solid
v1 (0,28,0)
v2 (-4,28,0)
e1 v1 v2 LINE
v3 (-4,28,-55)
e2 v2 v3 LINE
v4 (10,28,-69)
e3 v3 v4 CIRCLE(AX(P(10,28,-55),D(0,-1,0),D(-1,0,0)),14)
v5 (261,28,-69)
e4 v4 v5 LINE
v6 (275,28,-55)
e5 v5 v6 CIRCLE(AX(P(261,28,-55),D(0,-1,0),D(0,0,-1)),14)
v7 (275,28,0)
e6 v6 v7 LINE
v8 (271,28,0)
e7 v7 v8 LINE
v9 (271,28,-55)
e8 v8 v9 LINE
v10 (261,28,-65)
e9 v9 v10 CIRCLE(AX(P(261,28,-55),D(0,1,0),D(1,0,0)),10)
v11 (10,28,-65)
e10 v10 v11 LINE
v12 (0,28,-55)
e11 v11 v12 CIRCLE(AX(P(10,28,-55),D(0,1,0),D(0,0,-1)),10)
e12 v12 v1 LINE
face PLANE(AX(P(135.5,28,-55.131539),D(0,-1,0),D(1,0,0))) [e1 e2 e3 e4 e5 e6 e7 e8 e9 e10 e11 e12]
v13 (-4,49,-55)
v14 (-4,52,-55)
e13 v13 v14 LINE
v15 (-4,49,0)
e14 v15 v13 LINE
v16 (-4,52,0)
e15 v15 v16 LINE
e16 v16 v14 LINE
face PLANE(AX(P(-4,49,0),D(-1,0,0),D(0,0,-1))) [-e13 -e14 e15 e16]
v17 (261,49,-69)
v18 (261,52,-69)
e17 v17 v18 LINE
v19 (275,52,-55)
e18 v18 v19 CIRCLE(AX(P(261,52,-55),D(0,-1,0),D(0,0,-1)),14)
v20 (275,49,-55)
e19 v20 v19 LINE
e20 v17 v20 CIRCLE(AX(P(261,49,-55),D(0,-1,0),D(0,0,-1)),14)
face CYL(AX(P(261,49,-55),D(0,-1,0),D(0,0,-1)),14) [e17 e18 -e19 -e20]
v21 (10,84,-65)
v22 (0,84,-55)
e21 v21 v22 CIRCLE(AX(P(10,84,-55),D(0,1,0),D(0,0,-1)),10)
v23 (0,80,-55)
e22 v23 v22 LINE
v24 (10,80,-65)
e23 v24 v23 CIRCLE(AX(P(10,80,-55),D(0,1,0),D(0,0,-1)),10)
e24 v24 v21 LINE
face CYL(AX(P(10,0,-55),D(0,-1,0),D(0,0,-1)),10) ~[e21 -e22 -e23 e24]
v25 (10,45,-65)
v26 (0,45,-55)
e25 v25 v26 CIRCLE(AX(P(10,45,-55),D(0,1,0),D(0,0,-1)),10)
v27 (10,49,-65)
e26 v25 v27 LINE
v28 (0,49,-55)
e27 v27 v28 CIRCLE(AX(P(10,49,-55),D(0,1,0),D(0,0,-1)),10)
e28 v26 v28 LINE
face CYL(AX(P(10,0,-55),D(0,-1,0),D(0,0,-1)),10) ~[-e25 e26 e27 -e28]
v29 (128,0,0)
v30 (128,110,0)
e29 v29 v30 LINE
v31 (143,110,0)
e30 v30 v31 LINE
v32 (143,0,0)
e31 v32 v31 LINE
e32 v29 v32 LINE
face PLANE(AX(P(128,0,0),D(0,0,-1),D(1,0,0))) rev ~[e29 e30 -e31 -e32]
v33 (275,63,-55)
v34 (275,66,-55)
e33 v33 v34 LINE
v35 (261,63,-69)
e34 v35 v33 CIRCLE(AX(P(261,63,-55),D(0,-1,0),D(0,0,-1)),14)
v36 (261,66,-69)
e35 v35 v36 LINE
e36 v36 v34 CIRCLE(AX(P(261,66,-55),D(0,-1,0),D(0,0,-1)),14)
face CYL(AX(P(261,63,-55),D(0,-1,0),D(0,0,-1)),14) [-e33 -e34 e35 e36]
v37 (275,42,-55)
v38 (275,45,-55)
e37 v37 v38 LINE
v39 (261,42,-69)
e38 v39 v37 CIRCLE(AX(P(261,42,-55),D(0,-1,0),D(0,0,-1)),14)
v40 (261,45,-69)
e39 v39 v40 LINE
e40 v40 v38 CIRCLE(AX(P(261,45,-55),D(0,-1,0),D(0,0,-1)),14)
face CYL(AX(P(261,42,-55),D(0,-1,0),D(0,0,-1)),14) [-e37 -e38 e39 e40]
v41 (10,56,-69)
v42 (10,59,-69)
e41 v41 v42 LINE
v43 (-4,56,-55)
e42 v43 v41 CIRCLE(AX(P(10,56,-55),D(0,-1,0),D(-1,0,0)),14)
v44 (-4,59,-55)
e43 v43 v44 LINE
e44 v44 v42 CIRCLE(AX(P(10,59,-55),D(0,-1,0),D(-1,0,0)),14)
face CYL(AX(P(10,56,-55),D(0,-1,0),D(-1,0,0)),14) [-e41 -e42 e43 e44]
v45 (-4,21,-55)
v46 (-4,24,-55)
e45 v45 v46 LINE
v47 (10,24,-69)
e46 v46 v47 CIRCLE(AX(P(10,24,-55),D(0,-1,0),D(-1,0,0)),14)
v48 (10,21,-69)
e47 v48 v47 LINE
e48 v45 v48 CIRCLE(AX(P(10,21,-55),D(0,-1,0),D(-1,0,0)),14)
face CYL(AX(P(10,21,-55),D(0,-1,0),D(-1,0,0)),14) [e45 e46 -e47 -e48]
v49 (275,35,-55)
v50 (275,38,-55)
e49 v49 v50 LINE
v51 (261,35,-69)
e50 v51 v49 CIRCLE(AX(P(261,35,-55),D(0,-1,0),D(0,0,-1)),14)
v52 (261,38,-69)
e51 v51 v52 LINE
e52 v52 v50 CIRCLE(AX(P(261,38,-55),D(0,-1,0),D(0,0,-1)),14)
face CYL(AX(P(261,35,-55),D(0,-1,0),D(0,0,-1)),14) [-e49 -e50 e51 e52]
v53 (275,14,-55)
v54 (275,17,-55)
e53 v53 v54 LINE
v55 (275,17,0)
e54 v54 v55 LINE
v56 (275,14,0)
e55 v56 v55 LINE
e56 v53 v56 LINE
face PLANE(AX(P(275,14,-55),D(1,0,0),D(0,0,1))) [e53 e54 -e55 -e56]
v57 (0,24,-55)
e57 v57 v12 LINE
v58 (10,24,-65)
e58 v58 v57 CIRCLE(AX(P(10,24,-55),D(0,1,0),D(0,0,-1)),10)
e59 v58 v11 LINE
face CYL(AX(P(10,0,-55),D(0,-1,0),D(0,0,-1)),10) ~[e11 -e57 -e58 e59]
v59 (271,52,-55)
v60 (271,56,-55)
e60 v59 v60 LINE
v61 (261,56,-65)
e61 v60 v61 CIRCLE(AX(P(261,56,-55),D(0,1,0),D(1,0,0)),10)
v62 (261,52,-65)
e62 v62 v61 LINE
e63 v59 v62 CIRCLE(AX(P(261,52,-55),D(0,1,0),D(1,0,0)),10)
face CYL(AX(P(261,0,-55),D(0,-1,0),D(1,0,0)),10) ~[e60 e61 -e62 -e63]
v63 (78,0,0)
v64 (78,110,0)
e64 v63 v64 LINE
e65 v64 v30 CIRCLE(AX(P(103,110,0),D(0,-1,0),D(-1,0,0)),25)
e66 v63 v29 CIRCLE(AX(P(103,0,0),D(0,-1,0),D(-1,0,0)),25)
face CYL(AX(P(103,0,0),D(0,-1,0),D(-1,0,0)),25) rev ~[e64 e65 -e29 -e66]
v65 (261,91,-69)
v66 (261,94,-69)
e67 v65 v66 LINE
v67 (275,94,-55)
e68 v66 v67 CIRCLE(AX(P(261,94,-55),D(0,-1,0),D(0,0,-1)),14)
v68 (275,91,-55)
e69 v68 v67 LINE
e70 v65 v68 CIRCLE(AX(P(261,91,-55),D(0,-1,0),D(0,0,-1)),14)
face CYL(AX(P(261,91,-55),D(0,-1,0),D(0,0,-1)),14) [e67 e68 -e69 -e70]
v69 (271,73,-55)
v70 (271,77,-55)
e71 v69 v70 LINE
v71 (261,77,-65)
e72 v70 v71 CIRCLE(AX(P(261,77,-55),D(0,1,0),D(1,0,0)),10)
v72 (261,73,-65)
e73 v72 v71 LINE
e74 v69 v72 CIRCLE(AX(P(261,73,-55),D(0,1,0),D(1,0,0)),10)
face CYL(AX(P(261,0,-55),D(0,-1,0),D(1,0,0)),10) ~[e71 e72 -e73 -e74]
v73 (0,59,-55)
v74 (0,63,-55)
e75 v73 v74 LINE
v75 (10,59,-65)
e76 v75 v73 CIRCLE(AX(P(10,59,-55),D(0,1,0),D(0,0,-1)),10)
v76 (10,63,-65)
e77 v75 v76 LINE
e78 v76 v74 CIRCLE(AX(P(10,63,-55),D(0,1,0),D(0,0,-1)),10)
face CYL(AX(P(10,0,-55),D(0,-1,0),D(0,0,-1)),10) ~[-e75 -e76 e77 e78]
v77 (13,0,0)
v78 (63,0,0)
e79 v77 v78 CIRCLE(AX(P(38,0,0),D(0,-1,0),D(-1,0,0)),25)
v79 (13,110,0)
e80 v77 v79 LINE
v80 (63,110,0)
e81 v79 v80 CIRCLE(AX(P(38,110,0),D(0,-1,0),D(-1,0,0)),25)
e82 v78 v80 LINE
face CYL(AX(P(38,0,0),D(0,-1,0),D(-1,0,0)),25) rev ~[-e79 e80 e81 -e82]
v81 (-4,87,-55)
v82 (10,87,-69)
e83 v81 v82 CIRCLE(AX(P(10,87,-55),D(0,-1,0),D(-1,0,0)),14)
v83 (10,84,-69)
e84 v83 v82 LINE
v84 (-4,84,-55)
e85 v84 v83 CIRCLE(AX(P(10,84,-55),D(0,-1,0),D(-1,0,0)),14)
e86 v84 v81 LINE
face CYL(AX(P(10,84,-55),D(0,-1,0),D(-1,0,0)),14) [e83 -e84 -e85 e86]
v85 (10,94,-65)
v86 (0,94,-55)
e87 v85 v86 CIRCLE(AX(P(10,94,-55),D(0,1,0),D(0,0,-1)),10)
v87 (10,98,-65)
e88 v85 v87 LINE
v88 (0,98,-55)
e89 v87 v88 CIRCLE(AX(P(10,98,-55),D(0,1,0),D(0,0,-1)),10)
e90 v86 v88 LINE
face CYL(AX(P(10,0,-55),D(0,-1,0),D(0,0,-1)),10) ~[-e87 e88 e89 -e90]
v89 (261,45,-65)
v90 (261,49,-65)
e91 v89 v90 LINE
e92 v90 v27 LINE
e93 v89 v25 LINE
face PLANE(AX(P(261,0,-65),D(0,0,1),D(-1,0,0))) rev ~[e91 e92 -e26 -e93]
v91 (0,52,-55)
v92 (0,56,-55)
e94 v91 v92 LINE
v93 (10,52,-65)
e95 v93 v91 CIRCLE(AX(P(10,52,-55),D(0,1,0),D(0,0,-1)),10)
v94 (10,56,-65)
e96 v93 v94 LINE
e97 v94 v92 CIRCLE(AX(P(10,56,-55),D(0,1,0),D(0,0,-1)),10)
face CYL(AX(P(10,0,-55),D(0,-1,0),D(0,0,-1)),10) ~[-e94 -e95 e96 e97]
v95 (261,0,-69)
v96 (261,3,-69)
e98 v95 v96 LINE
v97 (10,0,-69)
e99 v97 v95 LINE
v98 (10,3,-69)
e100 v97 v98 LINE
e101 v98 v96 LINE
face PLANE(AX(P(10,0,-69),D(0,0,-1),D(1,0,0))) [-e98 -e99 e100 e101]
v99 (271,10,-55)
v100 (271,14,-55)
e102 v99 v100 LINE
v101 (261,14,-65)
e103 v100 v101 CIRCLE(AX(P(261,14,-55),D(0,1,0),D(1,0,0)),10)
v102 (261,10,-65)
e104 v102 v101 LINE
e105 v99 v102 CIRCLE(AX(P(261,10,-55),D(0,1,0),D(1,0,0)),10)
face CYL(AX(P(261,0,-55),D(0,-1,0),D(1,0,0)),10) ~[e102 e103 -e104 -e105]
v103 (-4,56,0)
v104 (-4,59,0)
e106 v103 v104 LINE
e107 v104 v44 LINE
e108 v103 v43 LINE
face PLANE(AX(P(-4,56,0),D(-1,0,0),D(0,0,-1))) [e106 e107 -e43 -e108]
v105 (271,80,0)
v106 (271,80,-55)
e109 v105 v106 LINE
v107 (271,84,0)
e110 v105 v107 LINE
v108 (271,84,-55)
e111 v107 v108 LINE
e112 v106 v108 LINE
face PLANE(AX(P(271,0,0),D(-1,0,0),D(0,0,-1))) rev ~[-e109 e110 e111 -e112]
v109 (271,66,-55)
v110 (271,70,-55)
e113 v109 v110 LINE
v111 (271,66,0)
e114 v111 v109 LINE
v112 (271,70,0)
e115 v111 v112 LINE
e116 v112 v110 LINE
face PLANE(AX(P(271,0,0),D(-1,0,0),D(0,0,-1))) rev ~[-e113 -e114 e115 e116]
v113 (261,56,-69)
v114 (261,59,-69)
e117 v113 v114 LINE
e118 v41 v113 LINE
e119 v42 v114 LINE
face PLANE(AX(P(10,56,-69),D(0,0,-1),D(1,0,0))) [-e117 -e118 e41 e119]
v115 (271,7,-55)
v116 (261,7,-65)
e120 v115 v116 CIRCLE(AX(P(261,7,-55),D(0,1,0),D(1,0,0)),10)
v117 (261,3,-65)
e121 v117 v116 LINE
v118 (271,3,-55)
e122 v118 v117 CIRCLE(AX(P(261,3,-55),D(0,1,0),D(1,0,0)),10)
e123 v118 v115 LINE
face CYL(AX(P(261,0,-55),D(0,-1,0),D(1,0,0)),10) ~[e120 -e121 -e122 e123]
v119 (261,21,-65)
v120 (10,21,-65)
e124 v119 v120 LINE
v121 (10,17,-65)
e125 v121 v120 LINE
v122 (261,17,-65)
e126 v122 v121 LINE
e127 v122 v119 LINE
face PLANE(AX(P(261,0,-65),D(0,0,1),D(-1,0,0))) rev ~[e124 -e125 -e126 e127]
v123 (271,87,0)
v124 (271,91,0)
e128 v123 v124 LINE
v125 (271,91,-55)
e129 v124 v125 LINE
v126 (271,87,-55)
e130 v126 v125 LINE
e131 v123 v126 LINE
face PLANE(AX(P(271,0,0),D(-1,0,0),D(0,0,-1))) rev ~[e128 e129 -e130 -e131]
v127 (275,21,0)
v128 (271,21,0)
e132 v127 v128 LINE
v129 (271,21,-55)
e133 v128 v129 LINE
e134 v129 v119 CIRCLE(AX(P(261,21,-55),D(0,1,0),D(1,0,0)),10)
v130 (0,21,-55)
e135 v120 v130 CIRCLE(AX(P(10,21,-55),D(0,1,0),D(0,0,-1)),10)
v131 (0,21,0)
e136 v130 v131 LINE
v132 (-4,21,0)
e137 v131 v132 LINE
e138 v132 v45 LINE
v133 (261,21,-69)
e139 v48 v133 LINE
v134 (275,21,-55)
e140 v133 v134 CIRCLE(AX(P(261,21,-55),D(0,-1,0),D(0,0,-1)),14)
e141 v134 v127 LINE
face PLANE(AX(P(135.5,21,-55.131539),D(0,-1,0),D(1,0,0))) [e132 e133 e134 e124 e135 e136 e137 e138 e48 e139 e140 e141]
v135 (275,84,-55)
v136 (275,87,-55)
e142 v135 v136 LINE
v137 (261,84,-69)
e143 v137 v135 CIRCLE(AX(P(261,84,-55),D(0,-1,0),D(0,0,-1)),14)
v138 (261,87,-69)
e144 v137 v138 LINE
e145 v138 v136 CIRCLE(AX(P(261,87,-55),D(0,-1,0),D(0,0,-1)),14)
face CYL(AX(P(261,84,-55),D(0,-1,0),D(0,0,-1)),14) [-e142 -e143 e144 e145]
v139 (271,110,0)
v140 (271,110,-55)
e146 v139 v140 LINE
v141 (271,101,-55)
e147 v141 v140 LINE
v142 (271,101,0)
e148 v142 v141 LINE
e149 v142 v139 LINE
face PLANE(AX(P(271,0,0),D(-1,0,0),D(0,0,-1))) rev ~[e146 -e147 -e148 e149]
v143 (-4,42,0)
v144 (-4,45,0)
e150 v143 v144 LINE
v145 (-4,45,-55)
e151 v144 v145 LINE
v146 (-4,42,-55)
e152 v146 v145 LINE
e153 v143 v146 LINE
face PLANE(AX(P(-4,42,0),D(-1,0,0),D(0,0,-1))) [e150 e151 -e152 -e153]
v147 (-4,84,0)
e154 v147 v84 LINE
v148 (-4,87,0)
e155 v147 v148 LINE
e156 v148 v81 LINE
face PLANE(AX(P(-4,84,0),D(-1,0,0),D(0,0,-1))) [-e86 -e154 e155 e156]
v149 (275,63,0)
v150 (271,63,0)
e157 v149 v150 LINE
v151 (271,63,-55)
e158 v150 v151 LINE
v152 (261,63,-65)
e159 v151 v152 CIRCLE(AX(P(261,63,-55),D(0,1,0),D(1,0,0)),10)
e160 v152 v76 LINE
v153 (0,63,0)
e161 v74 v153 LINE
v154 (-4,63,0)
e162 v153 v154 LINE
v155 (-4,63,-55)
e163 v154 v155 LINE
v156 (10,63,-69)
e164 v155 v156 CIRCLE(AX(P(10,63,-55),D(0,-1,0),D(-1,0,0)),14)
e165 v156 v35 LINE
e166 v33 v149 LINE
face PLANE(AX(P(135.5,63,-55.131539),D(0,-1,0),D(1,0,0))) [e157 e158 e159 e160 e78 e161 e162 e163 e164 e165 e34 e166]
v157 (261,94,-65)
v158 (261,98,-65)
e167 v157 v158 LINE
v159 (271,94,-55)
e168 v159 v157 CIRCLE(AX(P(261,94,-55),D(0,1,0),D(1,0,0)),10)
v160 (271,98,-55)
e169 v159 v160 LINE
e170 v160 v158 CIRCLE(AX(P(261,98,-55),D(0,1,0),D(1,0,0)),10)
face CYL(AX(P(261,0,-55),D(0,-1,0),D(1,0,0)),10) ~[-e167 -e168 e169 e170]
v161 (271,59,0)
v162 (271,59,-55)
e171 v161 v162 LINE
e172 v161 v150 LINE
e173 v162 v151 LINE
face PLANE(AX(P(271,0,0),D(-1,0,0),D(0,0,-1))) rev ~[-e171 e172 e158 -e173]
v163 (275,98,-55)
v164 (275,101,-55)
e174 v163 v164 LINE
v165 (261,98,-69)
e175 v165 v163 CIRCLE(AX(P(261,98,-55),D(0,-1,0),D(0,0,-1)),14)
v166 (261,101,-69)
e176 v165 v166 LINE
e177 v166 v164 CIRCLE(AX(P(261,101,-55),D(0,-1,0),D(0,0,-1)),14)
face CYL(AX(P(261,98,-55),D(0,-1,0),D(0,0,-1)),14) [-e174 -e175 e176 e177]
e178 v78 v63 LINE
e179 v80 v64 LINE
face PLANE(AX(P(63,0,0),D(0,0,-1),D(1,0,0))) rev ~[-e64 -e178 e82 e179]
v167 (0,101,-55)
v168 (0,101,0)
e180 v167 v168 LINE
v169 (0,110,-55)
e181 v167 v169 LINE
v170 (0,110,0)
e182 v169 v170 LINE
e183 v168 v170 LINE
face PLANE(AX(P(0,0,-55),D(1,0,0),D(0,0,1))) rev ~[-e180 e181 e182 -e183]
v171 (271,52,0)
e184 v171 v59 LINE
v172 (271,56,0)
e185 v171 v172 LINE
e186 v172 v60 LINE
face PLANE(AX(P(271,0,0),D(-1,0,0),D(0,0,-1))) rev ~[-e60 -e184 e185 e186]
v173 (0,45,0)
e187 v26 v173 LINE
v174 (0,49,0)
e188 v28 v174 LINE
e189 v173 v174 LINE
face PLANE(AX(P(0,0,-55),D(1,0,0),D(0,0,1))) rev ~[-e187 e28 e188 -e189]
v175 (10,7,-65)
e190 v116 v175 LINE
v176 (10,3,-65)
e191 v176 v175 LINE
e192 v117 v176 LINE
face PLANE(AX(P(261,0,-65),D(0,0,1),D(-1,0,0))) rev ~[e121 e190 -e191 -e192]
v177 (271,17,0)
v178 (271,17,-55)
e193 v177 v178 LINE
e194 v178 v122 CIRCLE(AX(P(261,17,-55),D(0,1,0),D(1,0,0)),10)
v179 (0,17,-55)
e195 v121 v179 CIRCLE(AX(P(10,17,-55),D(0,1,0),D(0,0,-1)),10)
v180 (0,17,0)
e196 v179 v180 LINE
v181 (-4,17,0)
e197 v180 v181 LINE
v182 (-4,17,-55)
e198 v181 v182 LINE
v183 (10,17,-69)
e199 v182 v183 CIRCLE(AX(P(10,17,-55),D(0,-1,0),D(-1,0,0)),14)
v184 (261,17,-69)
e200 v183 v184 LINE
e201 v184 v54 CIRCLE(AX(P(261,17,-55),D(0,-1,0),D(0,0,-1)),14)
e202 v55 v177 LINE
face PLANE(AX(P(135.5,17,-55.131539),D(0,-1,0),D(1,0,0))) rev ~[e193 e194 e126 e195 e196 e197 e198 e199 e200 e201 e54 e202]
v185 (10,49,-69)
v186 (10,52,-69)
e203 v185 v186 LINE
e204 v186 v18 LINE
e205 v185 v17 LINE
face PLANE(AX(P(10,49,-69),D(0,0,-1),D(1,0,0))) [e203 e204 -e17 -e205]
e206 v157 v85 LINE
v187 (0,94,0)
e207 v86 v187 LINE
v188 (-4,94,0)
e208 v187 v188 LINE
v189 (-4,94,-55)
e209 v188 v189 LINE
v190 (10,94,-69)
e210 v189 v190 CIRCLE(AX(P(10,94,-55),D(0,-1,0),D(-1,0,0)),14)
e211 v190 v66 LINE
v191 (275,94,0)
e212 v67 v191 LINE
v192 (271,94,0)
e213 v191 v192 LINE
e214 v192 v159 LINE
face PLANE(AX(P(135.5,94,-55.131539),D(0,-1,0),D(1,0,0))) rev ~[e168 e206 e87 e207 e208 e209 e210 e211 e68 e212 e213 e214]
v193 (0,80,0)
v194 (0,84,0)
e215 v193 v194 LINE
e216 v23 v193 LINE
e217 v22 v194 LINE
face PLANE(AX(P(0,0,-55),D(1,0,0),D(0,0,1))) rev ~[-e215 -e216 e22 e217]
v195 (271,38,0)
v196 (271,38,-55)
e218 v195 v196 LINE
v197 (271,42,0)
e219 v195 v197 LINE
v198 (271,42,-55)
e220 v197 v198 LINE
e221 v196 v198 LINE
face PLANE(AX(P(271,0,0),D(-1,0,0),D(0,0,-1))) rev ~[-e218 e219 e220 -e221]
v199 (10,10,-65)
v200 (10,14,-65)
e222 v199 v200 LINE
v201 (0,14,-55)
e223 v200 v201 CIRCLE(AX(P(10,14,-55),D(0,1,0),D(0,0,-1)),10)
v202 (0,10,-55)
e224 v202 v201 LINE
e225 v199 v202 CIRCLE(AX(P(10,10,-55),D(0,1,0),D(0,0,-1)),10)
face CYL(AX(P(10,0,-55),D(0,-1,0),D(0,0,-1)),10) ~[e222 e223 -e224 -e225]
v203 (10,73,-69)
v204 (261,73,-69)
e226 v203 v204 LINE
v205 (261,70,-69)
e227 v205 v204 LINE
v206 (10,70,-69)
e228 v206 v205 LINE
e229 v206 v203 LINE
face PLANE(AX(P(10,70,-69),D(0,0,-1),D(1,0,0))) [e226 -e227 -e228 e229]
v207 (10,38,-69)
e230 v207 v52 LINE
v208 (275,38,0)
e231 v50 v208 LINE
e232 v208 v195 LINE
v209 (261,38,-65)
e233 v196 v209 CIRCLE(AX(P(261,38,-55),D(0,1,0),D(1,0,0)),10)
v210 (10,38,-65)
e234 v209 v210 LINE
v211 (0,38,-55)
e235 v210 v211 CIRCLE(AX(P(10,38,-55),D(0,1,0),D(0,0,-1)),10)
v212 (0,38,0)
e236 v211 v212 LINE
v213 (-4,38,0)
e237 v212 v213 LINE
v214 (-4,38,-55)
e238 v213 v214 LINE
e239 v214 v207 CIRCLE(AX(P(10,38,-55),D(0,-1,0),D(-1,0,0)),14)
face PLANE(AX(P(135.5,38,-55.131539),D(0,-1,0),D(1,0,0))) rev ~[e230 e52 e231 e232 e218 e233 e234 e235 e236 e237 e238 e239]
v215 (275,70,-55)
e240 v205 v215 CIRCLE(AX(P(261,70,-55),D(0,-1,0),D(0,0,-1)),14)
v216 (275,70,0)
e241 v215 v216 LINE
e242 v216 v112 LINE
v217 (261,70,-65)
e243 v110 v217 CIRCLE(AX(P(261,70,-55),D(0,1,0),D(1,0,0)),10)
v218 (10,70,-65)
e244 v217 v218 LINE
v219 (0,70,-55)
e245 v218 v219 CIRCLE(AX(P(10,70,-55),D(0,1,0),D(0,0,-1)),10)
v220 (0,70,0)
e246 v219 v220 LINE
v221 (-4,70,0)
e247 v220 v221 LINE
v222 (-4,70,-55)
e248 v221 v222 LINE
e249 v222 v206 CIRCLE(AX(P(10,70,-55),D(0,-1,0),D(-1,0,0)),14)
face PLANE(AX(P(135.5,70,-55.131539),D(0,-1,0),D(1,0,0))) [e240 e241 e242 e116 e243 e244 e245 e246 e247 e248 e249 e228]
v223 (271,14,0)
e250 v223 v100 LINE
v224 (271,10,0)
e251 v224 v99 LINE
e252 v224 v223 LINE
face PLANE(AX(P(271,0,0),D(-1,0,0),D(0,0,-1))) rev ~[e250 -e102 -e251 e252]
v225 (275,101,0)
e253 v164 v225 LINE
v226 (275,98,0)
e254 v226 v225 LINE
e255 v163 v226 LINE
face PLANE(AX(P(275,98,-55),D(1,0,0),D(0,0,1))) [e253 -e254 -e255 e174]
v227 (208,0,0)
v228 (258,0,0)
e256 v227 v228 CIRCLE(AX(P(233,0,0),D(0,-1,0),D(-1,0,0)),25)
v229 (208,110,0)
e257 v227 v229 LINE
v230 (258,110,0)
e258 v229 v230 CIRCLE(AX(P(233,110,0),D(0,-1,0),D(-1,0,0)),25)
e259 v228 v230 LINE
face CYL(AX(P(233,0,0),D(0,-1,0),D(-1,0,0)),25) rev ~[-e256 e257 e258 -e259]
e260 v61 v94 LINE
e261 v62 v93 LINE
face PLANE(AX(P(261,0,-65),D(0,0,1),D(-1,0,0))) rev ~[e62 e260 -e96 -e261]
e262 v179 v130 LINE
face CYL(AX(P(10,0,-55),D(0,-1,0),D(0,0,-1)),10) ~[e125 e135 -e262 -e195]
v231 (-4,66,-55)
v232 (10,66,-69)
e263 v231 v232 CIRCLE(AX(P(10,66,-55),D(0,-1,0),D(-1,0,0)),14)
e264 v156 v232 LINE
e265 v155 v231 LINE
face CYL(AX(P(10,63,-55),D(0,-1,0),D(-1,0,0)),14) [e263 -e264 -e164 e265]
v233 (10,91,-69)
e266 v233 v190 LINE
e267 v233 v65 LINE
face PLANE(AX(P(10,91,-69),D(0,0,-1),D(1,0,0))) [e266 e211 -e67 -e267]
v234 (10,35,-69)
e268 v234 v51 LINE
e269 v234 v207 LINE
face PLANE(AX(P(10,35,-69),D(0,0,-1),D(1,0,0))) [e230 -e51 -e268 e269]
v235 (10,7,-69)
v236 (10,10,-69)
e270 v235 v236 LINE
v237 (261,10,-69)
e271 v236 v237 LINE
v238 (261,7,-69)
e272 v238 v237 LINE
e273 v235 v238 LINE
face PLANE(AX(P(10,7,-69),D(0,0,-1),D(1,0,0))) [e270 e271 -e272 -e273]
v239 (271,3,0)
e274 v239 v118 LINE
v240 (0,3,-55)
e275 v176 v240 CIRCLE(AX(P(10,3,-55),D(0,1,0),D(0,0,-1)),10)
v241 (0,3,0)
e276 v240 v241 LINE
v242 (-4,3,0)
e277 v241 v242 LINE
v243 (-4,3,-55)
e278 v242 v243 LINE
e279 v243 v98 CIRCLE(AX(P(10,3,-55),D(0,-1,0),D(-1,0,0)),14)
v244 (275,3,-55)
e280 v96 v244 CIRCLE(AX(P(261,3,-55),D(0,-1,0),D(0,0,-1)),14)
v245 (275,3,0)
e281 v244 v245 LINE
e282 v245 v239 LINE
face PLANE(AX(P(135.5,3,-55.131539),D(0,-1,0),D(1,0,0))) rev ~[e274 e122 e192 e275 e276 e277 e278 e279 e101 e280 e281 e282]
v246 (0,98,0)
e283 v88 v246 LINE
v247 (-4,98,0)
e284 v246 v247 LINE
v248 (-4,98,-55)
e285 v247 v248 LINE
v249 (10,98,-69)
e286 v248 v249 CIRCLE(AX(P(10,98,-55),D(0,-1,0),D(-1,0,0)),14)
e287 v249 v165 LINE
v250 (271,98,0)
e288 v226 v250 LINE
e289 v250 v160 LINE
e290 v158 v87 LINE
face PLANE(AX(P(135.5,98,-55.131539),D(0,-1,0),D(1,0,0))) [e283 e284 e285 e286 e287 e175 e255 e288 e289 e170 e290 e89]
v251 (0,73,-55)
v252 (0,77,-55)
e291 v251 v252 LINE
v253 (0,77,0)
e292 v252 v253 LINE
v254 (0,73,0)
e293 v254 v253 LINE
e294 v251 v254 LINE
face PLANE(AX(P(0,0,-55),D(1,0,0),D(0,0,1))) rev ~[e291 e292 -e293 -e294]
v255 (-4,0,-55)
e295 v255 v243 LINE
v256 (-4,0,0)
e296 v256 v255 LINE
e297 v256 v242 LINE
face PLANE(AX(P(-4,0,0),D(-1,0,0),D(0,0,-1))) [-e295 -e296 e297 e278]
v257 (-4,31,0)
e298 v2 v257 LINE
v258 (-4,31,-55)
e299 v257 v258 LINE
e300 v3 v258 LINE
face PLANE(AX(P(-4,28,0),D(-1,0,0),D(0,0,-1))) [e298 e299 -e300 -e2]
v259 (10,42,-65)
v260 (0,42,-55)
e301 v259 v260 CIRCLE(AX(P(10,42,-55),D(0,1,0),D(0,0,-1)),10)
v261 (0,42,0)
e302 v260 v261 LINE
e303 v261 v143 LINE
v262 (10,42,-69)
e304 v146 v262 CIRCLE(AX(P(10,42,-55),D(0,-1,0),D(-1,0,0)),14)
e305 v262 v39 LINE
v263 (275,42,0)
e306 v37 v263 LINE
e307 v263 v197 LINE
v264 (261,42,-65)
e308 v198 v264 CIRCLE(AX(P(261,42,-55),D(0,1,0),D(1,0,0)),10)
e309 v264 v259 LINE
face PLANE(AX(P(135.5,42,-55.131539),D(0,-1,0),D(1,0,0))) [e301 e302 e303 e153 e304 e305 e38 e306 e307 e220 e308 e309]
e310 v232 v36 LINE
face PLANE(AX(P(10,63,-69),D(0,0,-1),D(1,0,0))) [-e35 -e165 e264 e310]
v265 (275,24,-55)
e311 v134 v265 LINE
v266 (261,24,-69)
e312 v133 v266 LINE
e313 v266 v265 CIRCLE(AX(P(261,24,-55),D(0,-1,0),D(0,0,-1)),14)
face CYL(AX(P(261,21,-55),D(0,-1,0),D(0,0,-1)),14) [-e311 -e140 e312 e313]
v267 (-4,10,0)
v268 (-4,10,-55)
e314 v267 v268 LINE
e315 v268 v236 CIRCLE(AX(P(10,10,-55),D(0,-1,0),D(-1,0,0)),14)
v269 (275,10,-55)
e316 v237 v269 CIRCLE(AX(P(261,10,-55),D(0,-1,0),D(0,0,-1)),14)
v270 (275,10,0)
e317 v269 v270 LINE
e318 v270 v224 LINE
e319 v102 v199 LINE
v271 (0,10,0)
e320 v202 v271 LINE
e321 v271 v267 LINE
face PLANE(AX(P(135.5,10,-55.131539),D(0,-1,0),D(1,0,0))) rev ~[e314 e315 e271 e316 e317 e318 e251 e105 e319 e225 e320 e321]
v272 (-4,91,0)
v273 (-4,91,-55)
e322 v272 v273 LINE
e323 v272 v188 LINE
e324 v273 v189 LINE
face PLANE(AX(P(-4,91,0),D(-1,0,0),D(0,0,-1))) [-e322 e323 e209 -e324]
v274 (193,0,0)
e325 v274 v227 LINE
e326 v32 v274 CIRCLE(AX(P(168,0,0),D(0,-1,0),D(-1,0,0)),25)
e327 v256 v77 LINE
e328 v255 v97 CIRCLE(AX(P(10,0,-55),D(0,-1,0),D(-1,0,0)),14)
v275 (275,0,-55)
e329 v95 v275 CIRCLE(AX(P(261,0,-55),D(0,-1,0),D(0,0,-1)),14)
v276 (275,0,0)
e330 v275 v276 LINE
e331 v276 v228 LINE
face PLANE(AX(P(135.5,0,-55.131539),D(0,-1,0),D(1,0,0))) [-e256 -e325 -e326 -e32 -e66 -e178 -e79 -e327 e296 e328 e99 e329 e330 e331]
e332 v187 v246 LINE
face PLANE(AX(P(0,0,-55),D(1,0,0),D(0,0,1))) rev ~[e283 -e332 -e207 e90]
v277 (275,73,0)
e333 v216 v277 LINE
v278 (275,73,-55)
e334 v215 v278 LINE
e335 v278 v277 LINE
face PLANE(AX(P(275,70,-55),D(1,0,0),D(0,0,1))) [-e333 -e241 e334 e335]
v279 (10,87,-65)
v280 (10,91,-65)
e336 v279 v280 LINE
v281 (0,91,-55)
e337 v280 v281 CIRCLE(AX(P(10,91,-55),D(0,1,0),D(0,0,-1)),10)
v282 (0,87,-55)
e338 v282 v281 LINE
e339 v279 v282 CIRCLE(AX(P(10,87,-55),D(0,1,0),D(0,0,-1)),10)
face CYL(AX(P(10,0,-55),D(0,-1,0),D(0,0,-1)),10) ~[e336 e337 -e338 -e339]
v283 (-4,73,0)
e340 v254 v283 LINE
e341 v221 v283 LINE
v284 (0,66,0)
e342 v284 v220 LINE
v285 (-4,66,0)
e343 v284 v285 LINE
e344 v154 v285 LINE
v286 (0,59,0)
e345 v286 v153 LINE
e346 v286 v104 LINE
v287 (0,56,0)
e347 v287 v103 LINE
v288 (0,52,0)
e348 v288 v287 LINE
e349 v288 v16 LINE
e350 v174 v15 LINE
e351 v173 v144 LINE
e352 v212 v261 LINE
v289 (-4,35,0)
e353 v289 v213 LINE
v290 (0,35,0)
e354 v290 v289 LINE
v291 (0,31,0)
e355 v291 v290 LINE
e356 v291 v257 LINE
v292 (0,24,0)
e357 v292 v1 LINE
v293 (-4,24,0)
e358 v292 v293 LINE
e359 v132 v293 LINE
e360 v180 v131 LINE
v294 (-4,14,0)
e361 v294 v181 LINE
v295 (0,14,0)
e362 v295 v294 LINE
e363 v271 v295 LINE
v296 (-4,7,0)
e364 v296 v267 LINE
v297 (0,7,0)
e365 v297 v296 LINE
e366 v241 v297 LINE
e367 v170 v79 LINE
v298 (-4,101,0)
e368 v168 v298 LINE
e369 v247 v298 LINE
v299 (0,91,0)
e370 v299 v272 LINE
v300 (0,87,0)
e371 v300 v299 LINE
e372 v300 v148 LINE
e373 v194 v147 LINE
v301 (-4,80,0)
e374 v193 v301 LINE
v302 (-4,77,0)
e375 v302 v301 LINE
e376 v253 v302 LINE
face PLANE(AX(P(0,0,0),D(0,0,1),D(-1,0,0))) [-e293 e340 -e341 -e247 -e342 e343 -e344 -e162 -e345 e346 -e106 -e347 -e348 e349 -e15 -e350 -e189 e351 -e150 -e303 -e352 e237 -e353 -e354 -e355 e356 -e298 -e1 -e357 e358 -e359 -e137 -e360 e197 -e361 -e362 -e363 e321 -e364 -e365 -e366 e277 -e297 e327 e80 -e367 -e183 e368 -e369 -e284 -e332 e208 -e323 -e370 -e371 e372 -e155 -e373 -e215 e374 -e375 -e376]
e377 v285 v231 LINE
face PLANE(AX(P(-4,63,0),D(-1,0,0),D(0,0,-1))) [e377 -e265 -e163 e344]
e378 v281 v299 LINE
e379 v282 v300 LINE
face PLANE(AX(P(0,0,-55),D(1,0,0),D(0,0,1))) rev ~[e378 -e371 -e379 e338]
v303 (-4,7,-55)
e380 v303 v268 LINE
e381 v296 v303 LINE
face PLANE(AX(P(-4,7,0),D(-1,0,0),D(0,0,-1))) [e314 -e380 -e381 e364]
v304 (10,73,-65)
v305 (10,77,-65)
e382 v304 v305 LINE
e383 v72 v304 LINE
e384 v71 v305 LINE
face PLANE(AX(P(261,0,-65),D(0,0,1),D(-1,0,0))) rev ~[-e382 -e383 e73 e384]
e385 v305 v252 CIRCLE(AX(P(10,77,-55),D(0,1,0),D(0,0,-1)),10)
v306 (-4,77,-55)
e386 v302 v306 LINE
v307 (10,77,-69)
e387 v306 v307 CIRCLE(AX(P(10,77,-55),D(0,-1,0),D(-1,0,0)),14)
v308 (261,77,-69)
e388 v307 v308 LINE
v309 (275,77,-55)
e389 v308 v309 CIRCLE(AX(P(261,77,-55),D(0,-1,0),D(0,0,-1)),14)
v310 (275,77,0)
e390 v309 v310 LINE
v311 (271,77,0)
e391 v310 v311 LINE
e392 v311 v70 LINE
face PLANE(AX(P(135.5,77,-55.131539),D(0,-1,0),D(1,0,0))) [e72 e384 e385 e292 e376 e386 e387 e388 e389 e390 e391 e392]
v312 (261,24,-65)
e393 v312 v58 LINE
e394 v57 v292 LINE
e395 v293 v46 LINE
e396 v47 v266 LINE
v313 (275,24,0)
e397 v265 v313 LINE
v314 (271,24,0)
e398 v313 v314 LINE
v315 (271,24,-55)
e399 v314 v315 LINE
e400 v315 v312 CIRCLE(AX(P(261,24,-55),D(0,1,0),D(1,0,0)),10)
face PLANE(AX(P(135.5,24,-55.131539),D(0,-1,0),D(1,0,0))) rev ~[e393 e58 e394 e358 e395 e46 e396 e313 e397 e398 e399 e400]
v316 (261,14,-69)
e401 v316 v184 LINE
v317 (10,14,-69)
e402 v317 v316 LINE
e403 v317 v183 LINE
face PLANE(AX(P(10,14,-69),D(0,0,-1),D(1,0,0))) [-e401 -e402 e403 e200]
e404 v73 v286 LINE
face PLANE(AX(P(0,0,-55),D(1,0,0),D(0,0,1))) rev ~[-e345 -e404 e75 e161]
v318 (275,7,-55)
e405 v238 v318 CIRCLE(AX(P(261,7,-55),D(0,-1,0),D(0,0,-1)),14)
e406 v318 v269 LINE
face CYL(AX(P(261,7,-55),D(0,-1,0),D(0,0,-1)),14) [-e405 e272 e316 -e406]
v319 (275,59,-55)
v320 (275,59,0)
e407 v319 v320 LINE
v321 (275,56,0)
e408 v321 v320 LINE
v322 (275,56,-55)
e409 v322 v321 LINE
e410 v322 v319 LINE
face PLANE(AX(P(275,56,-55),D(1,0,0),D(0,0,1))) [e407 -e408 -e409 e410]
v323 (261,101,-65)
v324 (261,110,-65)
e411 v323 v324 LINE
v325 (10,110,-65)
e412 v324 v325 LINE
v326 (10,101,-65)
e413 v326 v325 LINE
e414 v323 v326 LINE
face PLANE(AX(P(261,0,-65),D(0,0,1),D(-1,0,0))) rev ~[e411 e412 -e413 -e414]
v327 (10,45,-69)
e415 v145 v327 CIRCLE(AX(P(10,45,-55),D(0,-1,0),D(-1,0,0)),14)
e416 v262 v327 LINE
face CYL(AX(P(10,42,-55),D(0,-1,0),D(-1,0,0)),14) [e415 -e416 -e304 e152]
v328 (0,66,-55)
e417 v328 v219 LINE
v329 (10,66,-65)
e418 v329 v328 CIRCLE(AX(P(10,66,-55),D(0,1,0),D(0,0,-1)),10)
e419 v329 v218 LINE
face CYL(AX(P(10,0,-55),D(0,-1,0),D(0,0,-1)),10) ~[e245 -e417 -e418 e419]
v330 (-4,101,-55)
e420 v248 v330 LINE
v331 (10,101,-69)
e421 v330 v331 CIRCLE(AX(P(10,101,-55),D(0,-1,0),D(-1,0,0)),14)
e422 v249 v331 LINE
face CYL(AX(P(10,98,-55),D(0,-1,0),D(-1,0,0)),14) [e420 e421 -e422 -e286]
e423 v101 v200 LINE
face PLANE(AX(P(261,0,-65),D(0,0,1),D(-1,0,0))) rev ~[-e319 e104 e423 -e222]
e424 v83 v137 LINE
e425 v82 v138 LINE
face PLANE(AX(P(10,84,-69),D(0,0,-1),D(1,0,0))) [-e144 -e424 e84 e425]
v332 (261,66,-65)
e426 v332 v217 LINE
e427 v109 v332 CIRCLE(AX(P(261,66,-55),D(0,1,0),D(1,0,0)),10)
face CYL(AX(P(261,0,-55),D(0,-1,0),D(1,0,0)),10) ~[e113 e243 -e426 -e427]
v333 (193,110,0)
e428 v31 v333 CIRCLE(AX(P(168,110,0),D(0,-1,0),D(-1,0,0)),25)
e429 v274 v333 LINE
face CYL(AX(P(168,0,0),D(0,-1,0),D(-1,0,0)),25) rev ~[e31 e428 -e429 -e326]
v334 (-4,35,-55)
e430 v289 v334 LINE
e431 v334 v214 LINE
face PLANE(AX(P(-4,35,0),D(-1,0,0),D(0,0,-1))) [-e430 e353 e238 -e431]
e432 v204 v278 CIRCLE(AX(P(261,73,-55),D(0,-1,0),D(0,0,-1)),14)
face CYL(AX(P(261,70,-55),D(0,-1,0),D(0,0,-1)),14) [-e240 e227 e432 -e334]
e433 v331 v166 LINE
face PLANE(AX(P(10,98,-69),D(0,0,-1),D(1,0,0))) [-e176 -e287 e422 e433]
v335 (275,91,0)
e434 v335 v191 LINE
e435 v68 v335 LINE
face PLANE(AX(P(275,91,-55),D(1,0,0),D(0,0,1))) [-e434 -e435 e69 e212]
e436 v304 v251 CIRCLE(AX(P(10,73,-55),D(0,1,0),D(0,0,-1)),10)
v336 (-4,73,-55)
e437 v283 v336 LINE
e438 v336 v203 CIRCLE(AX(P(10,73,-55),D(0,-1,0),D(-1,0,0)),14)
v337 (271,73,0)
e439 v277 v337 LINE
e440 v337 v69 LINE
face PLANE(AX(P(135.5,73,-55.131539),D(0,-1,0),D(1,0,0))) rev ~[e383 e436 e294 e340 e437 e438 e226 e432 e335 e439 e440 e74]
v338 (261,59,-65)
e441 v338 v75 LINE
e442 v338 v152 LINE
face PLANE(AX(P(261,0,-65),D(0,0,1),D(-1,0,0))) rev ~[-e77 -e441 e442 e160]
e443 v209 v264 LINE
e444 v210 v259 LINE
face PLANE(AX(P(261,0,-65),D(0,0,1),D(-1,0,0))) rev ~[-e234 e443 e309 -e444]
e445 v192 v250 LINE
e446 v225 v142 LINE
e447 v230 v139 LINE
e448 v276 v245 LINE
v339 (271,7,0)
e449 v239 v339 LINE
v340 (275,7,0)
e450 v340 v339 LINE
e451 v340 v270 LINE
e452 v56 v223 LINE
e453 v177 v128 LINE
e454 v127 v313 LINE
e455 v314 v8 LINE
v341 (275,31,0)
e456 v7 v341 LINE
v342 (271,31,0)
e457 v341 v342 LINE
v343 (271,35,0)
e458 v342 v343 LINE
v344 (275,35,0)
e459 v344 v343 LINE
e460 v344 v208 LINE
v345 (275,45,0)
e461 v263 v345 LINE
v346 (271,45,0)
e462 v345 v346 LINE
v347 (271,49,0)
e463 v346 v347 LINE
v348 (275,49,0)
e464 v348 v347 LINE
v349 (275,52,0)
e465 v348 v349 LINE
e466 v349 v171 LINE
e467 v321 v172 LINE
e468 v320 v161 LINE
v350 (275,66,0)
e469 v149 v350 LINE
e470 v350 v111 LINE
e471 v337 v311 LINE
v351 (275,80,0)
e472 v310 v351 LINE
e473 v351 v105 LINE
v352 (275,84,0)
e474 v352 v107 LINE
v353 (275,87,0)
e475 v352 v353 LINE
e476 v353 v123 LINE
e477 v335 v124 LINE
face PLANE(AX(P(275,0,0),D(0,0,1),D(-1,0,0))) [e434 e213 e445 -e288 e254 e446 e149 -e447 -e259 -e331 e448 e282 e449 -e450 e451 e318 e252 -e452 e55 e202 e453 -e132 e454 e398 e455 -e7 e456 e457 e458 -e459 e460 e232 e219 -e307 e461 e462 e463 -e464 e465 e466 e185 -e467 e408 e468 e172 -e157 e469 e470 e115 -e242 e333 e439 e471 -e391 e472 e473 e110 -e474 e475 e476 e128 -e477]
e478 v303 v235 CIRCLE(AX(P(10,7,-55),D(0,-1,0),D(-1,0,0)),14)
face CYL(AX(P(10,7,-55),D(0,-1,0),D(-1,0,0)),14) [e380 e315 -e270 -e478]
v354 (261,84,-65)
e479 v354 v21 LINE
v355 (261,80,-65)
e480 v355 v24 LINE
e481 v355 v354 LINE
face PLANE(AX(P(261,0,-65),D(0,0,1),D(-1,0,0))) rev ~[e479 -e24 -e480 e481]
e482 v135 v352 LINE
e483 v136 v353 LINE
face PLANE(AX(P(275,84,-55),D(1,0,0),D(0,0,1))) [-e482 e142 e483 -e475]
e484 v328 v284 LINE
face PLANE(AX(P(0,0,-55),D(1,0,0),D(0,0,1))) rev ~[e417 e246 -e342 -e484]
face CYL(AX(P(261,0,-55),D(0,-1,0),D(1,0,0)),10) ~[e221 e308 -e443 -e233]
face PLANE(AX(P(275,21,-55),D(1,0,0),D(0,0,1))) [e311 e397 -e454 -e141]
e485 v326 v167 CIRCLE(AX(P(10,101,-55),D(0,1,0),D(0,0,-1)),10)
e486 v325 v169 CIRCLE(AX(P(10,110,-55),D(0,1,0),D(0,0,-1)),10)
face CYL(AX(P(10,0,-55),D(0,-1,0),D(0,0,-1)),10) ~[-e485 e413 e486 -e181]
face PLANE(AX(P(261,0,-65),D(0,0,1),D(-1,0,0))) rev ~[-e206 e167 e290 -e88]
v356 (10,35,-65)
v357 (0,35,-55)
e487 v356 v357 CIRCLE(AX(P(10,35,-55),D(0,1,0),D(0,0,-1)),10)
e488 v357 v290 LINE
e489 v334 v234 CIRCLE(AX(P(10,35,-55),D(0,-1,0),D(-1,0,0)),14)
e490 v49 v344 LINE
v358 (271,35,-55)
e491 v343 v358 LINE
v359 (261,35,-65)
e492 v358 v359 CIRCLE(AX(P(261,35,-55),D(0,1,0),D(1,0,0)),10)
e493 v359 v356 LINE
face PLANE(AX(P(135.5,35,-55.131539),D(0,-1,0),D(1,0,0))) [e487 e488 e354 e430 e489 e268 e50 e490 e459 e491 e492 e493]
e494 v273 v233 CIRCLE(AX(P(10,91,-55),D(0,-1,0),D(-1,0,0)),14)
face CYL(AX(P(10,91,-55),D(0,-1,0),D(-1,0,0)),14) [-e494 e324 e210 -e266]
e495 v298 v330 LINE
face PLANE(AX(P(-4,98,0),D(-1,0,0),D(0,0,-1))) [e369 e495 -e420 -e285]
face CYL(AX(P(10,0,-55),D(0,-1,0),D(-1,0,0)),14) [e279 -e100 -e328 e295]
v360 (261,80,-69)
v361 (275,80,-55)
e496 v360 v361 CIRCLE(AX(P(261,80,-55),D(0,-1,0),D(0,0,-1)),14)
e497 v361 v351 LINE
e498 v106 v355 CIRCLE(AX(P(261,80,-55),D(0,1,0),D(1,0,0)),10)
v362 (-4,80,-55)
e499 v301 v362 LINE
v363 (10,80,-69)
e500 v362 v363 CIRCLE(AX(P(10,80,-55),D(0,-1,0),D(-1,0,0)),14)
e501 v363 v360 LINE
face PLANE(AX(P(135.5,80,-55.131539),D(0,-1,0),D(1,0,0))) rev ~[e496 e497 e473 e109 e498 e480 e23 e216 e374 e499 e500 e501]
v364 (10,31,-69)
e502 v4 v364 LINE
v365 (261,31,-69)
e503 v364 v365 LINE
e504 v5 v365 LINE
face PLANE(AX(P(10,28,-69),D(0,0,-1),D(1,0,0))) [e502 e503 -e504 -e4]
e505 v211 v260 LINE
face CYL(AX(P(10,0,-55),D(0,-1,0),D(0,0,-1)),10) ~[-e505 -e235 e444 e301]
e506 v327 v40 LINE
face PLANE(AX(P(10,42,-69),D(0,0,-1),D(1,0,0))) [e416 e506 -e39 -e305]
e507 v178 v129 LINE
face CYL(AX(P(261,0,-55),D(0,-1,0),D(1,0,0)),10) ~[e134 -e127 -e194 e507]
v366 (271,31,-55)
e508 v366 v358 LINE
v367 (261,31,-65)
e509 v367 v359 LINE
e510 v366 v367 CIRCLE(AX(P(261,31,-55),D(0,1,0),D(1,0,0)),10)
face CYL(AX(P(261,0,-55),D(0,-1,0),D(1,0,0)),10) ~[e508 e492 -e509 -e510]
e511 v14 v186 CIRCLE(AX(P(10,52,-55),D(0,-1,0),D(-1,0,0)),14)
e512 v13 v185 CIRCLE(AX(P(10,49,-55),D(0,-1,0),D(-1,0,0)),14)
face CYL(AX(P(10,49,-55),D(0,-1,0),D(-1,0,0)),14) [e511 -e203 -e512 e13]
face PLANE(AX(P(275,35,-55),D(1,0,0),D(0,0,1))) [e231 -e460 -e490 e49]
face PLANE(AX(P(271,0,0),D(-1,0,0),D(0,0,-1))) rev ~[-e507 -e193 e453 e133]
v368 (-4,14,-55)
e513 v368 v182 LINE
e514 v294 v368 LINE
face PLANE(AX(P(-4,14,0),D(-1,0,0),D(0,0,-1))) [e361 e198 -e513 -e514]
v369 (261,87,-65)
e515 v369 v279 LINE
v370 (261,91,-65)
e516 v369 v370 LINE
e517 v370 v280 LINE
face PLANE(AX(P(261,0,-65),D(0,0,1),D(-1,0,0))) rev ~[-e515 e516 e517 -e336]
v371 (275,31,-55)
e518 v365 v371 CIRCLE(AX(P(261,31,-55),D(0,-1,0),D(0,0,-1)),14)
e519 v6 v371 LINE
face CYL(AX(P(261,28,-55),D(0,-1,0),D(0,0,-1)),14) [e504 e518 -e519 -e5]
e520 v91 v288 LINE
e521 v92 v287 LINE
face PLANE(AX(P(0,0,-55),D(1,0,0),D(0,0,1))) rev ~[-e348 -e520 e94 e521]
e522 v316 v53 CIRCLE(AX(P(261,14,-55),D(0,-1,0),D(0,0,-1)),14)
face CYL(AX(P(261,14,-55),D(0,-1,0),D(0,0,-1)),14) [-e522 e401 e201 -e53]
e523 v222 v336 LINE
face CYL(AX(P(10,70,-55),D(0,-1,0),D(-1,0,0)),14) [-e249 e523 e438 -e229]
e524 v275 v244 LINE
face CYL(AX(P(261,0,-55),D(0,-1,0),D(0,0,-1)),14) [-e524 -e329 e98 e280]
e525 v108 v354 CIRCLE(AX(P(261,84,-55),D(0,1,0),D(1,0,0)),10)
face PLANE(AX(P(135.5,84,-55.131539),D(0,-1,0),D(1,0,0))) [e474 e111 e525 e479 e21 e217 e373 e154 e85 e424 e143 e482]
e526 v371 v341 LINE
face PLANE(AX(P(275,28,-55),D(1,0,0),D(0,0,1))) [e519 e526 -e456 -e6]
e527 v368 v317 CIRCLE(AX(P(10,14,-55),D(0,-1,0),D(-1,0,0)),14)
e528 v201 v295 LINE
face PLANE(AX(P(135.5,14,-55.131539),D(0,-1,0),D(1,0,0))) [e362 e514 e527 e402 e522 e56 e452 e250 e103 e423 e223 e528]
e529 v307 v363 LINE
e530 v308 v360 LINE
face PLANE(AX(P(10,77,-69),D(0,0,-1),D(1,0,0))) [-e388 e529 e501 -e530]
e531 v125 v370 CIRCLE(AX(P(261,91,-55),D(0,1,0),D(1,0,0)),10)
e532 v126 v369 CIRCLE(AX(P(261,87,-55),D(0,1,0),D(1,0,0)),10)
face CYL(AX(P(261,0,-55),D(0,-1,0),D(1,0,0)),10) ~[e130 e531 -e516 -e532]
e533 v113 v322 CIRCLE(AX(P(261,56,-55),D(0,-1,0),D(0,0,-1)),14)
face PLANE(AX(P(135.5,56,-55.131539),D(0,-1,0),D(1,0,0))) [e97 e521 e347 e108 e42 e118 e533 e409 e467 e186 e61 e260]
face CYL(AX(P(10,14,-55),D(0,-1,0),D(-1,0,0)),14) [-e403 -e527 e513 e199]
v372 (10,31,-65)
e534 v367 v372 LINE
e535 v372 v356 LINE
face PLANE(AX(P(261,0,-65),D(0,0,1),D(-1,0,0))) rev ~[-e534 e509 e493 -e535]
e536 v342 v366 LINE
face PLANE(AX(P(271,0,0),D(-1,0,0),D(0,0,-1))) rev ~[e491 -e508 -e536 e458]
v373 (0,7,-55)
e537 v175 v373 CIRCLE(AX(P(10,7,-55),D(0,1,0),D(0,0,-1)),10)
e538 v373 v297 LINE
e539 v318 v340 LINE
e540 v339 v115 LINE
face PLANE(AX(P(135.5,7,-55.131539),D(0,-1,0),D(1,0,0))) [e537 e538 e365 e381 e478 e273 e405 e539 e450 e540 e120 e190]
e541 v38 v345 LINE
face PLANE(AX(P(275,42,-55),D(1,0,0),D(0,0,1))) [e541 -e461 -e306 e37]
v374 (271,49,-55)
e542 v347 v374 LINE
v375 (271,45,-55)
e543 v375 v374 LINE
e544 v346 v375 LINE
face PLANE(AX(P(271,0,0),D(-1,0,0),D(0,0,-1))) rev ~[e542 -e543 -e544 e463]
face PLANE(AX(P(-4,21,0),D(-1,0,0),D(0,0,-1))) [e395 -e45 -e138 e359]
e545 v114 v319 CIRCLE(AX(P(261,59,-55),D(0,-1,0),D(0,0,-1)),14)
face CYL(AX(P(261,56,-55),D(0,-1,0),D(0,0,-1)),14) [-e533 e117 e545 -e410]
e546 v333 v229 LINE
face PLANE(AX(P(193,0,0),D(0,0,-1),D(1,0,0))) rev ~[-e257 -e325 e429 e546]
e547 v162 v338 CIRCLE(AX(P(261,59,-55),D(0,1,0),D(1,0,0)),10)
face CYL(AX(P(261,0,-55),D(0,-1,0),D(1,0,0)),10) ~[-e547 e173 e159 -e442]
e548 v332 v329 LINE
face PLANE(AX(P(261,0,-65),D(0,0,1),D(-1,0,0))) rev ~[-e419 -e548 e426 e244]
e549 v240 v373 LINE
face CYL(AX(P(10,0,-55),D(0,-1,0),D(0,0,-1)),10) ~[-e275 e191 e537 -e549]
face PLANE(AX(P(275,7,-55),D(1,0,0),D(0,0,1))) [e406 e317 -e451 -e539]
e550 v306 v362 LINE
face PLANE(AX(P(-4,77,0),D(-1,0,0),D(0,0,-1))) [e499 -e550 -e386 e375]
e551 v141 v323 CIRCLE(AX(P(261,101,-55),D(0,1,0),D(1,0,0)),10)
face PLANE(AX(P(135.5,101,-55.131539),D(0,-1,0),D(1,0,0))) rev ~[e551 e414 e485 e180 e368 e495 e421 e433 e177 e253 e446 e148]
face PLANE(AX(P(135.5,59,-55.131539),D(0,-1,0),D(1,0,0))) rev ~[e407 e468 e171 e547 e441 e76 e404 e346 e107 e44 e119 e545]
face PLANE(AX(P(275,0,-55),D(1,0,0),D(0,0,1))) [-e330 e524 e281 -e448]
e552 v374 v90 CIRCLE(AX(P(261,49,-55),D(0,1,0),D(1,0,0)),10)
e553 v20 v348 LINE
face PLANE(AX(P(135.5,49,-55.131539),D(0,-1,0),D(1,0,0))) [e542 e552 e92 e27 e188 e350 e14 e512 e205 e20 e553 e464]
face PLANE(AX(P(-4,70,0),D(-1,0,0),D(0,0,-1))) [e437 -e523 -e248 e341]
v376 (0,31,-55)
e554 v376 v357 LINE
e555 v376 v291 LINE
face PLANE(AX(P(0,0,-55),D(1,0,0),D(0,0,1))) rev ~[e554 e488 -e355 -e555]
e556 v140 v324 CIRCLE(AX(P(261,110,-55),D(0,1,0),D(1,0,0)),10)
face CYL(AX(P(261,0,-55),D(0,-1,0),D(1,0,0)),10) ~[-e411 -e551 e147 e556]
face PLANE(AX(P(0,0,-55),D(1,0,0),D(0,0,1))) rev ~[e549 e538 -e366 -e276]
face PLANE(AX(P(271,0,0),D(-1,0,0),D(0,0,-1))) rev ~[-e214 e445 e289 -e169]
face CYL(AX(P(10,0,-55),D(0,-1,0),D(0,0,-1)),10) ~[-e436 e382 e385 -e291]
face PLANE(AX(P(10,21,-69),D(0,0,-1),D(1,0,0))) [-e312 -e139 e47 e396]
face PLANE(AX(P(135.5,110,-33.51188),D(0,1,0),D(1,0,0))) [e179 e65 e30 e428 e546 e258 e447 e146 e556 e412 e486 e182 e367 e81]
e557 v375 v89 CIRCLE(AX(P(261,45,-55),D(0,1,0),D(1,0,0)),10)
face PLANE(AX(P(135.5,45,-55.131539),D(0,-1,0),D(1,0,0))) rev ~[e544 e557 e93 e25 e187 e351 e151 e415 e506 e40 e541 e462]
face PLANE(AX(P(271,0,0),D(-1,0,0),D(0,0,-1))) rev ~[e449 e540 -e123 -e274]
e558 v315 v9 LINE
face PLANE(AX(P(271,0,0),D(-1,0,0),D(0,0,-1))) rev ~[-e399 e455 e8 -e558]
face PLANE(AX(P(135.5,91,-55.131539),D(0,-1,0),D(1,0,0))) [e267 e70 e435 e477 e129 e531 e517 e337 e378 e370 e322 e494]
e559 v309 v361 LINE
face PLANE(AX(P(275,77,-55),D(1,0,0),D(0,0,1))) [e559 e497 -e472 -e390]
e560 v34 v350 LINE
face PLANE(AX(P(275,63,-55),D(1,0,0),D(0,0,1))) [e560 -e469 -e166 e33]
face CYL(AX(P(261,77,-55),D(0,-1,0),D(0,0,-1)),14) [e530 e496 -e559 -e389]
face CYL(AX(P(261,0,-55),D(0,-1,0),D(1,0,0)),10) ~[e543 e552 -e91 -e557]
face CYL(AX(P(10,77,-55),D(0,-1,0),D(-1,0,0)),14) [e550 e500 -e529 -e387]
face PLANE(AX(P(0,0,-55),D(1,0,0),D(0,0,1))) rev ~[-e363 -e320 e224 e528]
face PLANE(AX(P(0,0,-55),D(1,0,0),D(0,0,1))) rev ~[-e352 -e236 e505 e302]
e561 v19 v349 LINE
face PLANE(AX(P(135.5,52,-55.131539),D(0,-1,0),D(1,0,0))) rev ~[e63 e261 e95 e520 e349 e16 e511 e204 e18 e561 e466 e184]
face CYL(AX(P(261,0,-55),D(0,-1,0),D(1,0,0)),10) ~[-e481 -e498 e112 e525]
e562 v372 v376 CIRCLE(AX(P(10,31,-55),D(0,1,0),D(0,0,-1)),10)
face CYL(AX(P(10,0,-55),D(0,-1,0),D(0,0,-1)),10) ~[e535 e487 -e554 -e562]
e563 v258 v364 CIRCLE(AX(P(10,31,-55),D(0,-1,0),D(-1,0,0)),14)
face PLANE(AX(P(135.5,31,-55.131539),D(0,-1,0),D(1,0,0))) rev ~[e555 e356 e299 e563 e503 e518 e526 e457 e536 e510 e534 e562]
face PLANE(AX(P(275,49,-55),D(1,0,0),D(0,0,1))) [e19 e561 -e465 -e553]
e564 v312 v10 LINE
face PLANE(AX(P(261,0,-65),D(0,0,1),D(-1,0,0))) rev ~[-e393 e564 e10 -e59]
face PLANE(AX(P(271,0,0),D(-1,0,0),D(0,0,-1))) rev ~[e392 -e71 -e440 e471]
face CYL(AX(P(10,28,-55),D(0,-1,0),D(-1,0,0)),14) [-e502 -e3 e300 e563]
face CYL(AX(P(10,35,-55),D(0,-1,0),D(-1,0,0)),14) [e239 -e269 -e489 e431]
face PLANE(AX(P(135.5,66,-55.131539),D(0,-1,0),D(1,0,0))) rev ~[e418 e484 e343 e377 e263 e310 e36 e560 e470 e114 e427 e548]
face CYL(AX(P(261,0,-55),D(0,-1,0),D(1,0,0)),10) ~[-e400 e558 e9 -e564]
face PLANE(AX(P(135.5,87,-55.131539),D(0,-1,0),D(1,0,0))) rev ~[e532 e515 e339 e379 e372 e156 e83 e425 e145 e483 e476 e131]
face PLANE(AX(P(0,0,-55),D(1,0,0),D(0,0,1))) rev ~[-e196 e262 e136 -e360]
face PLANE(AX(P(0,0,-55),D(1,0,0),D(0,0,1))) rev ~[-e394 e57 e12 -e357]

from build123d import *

# Parameters (mm, degrees)
BOSS_EXTRUDE1_DEPTH = 110
BOSS_EXTRUDE2_DEPTH = 3
LPATTERN1_COUNT     = 15
LPATTERN1_PITCH     = 7


with BuildPart() as part:
    # Sketch1 → Boss-Extrude1 (new body)
    with BuildSketch(Plane(origin=(0, 0, 0), x_dir=(1, 0, 0), z_dir=(0, 1, 0))):
        with BuildLine():
            Line((63, 0), (78, 0))
            ThreePointArc((78, 0), (103, 25), (128, 0))
            Line((128, 0), (143, 0))
            ThreePointArc((143, 0), (168, 25), (193, 0))
            Line((193, 0), (208, 0))
            ThreePointArc((208, 0), (233, 25), (258, 0))
            Line((258, 0), (271, 0))
            Line((271, 0), (271, 55))
            ThreePointArc((271, 55), (268.071067812, 62.071067812), (261, 65))
            Line((261, 65), (10, 65))
            ThreePointArc((10, 65), (2.928932188, 62.071067812), (0, 55))
            Line((0, 55), (0, 0))
            Line((0, 0), (13, 0))
            ThreePointArc((13, 0), (38, 25), (63, 0))
        make_face()
    extrude(amount=BOSS_EXTRUDE1_DEPTH)

    # Sketch4 → Boss-Extrude2 (add)
    with BuildSketch(Plane.XZ):
        with BuildLine():
            Line((-4, 0), (-4, -55))
            ThreePointArc((-4, -55), (0.100505063, -64.899494937), (10, -69))
            Line((10, -69), (261, -69))
            ThreePointArc((261, -69), (270.899494937, -64.899494937), (275, -55))
            Line((275, -55), (275, 0))
            Line((275, 0), (271, 0))
            Line((271, 0), (271, -55))
            ThreePointArc((271, -55), (268.071067812, -62.071067812), (261, -65))
            Line((261, -65), (10, -65))
            ThreePointArc((10, -65), (2.928932188, -62.071067812), (0, -55))
            Line((0, -55), (0, 0))
            Line((0, 0), (-4, 0))
        make_face()
    boss_extrude2 = extrude(amount=-BOSS_EXTRUDE2_DEPTH)

    # LPattern1: Boss-Extrude2 ×15
    with Locations(*[(0, i * LPATTERN1_PITCH, 0) for i in range(1, LPATTERN1_COUNT)]):
        add(boss_extrude2)


solid = part.part
